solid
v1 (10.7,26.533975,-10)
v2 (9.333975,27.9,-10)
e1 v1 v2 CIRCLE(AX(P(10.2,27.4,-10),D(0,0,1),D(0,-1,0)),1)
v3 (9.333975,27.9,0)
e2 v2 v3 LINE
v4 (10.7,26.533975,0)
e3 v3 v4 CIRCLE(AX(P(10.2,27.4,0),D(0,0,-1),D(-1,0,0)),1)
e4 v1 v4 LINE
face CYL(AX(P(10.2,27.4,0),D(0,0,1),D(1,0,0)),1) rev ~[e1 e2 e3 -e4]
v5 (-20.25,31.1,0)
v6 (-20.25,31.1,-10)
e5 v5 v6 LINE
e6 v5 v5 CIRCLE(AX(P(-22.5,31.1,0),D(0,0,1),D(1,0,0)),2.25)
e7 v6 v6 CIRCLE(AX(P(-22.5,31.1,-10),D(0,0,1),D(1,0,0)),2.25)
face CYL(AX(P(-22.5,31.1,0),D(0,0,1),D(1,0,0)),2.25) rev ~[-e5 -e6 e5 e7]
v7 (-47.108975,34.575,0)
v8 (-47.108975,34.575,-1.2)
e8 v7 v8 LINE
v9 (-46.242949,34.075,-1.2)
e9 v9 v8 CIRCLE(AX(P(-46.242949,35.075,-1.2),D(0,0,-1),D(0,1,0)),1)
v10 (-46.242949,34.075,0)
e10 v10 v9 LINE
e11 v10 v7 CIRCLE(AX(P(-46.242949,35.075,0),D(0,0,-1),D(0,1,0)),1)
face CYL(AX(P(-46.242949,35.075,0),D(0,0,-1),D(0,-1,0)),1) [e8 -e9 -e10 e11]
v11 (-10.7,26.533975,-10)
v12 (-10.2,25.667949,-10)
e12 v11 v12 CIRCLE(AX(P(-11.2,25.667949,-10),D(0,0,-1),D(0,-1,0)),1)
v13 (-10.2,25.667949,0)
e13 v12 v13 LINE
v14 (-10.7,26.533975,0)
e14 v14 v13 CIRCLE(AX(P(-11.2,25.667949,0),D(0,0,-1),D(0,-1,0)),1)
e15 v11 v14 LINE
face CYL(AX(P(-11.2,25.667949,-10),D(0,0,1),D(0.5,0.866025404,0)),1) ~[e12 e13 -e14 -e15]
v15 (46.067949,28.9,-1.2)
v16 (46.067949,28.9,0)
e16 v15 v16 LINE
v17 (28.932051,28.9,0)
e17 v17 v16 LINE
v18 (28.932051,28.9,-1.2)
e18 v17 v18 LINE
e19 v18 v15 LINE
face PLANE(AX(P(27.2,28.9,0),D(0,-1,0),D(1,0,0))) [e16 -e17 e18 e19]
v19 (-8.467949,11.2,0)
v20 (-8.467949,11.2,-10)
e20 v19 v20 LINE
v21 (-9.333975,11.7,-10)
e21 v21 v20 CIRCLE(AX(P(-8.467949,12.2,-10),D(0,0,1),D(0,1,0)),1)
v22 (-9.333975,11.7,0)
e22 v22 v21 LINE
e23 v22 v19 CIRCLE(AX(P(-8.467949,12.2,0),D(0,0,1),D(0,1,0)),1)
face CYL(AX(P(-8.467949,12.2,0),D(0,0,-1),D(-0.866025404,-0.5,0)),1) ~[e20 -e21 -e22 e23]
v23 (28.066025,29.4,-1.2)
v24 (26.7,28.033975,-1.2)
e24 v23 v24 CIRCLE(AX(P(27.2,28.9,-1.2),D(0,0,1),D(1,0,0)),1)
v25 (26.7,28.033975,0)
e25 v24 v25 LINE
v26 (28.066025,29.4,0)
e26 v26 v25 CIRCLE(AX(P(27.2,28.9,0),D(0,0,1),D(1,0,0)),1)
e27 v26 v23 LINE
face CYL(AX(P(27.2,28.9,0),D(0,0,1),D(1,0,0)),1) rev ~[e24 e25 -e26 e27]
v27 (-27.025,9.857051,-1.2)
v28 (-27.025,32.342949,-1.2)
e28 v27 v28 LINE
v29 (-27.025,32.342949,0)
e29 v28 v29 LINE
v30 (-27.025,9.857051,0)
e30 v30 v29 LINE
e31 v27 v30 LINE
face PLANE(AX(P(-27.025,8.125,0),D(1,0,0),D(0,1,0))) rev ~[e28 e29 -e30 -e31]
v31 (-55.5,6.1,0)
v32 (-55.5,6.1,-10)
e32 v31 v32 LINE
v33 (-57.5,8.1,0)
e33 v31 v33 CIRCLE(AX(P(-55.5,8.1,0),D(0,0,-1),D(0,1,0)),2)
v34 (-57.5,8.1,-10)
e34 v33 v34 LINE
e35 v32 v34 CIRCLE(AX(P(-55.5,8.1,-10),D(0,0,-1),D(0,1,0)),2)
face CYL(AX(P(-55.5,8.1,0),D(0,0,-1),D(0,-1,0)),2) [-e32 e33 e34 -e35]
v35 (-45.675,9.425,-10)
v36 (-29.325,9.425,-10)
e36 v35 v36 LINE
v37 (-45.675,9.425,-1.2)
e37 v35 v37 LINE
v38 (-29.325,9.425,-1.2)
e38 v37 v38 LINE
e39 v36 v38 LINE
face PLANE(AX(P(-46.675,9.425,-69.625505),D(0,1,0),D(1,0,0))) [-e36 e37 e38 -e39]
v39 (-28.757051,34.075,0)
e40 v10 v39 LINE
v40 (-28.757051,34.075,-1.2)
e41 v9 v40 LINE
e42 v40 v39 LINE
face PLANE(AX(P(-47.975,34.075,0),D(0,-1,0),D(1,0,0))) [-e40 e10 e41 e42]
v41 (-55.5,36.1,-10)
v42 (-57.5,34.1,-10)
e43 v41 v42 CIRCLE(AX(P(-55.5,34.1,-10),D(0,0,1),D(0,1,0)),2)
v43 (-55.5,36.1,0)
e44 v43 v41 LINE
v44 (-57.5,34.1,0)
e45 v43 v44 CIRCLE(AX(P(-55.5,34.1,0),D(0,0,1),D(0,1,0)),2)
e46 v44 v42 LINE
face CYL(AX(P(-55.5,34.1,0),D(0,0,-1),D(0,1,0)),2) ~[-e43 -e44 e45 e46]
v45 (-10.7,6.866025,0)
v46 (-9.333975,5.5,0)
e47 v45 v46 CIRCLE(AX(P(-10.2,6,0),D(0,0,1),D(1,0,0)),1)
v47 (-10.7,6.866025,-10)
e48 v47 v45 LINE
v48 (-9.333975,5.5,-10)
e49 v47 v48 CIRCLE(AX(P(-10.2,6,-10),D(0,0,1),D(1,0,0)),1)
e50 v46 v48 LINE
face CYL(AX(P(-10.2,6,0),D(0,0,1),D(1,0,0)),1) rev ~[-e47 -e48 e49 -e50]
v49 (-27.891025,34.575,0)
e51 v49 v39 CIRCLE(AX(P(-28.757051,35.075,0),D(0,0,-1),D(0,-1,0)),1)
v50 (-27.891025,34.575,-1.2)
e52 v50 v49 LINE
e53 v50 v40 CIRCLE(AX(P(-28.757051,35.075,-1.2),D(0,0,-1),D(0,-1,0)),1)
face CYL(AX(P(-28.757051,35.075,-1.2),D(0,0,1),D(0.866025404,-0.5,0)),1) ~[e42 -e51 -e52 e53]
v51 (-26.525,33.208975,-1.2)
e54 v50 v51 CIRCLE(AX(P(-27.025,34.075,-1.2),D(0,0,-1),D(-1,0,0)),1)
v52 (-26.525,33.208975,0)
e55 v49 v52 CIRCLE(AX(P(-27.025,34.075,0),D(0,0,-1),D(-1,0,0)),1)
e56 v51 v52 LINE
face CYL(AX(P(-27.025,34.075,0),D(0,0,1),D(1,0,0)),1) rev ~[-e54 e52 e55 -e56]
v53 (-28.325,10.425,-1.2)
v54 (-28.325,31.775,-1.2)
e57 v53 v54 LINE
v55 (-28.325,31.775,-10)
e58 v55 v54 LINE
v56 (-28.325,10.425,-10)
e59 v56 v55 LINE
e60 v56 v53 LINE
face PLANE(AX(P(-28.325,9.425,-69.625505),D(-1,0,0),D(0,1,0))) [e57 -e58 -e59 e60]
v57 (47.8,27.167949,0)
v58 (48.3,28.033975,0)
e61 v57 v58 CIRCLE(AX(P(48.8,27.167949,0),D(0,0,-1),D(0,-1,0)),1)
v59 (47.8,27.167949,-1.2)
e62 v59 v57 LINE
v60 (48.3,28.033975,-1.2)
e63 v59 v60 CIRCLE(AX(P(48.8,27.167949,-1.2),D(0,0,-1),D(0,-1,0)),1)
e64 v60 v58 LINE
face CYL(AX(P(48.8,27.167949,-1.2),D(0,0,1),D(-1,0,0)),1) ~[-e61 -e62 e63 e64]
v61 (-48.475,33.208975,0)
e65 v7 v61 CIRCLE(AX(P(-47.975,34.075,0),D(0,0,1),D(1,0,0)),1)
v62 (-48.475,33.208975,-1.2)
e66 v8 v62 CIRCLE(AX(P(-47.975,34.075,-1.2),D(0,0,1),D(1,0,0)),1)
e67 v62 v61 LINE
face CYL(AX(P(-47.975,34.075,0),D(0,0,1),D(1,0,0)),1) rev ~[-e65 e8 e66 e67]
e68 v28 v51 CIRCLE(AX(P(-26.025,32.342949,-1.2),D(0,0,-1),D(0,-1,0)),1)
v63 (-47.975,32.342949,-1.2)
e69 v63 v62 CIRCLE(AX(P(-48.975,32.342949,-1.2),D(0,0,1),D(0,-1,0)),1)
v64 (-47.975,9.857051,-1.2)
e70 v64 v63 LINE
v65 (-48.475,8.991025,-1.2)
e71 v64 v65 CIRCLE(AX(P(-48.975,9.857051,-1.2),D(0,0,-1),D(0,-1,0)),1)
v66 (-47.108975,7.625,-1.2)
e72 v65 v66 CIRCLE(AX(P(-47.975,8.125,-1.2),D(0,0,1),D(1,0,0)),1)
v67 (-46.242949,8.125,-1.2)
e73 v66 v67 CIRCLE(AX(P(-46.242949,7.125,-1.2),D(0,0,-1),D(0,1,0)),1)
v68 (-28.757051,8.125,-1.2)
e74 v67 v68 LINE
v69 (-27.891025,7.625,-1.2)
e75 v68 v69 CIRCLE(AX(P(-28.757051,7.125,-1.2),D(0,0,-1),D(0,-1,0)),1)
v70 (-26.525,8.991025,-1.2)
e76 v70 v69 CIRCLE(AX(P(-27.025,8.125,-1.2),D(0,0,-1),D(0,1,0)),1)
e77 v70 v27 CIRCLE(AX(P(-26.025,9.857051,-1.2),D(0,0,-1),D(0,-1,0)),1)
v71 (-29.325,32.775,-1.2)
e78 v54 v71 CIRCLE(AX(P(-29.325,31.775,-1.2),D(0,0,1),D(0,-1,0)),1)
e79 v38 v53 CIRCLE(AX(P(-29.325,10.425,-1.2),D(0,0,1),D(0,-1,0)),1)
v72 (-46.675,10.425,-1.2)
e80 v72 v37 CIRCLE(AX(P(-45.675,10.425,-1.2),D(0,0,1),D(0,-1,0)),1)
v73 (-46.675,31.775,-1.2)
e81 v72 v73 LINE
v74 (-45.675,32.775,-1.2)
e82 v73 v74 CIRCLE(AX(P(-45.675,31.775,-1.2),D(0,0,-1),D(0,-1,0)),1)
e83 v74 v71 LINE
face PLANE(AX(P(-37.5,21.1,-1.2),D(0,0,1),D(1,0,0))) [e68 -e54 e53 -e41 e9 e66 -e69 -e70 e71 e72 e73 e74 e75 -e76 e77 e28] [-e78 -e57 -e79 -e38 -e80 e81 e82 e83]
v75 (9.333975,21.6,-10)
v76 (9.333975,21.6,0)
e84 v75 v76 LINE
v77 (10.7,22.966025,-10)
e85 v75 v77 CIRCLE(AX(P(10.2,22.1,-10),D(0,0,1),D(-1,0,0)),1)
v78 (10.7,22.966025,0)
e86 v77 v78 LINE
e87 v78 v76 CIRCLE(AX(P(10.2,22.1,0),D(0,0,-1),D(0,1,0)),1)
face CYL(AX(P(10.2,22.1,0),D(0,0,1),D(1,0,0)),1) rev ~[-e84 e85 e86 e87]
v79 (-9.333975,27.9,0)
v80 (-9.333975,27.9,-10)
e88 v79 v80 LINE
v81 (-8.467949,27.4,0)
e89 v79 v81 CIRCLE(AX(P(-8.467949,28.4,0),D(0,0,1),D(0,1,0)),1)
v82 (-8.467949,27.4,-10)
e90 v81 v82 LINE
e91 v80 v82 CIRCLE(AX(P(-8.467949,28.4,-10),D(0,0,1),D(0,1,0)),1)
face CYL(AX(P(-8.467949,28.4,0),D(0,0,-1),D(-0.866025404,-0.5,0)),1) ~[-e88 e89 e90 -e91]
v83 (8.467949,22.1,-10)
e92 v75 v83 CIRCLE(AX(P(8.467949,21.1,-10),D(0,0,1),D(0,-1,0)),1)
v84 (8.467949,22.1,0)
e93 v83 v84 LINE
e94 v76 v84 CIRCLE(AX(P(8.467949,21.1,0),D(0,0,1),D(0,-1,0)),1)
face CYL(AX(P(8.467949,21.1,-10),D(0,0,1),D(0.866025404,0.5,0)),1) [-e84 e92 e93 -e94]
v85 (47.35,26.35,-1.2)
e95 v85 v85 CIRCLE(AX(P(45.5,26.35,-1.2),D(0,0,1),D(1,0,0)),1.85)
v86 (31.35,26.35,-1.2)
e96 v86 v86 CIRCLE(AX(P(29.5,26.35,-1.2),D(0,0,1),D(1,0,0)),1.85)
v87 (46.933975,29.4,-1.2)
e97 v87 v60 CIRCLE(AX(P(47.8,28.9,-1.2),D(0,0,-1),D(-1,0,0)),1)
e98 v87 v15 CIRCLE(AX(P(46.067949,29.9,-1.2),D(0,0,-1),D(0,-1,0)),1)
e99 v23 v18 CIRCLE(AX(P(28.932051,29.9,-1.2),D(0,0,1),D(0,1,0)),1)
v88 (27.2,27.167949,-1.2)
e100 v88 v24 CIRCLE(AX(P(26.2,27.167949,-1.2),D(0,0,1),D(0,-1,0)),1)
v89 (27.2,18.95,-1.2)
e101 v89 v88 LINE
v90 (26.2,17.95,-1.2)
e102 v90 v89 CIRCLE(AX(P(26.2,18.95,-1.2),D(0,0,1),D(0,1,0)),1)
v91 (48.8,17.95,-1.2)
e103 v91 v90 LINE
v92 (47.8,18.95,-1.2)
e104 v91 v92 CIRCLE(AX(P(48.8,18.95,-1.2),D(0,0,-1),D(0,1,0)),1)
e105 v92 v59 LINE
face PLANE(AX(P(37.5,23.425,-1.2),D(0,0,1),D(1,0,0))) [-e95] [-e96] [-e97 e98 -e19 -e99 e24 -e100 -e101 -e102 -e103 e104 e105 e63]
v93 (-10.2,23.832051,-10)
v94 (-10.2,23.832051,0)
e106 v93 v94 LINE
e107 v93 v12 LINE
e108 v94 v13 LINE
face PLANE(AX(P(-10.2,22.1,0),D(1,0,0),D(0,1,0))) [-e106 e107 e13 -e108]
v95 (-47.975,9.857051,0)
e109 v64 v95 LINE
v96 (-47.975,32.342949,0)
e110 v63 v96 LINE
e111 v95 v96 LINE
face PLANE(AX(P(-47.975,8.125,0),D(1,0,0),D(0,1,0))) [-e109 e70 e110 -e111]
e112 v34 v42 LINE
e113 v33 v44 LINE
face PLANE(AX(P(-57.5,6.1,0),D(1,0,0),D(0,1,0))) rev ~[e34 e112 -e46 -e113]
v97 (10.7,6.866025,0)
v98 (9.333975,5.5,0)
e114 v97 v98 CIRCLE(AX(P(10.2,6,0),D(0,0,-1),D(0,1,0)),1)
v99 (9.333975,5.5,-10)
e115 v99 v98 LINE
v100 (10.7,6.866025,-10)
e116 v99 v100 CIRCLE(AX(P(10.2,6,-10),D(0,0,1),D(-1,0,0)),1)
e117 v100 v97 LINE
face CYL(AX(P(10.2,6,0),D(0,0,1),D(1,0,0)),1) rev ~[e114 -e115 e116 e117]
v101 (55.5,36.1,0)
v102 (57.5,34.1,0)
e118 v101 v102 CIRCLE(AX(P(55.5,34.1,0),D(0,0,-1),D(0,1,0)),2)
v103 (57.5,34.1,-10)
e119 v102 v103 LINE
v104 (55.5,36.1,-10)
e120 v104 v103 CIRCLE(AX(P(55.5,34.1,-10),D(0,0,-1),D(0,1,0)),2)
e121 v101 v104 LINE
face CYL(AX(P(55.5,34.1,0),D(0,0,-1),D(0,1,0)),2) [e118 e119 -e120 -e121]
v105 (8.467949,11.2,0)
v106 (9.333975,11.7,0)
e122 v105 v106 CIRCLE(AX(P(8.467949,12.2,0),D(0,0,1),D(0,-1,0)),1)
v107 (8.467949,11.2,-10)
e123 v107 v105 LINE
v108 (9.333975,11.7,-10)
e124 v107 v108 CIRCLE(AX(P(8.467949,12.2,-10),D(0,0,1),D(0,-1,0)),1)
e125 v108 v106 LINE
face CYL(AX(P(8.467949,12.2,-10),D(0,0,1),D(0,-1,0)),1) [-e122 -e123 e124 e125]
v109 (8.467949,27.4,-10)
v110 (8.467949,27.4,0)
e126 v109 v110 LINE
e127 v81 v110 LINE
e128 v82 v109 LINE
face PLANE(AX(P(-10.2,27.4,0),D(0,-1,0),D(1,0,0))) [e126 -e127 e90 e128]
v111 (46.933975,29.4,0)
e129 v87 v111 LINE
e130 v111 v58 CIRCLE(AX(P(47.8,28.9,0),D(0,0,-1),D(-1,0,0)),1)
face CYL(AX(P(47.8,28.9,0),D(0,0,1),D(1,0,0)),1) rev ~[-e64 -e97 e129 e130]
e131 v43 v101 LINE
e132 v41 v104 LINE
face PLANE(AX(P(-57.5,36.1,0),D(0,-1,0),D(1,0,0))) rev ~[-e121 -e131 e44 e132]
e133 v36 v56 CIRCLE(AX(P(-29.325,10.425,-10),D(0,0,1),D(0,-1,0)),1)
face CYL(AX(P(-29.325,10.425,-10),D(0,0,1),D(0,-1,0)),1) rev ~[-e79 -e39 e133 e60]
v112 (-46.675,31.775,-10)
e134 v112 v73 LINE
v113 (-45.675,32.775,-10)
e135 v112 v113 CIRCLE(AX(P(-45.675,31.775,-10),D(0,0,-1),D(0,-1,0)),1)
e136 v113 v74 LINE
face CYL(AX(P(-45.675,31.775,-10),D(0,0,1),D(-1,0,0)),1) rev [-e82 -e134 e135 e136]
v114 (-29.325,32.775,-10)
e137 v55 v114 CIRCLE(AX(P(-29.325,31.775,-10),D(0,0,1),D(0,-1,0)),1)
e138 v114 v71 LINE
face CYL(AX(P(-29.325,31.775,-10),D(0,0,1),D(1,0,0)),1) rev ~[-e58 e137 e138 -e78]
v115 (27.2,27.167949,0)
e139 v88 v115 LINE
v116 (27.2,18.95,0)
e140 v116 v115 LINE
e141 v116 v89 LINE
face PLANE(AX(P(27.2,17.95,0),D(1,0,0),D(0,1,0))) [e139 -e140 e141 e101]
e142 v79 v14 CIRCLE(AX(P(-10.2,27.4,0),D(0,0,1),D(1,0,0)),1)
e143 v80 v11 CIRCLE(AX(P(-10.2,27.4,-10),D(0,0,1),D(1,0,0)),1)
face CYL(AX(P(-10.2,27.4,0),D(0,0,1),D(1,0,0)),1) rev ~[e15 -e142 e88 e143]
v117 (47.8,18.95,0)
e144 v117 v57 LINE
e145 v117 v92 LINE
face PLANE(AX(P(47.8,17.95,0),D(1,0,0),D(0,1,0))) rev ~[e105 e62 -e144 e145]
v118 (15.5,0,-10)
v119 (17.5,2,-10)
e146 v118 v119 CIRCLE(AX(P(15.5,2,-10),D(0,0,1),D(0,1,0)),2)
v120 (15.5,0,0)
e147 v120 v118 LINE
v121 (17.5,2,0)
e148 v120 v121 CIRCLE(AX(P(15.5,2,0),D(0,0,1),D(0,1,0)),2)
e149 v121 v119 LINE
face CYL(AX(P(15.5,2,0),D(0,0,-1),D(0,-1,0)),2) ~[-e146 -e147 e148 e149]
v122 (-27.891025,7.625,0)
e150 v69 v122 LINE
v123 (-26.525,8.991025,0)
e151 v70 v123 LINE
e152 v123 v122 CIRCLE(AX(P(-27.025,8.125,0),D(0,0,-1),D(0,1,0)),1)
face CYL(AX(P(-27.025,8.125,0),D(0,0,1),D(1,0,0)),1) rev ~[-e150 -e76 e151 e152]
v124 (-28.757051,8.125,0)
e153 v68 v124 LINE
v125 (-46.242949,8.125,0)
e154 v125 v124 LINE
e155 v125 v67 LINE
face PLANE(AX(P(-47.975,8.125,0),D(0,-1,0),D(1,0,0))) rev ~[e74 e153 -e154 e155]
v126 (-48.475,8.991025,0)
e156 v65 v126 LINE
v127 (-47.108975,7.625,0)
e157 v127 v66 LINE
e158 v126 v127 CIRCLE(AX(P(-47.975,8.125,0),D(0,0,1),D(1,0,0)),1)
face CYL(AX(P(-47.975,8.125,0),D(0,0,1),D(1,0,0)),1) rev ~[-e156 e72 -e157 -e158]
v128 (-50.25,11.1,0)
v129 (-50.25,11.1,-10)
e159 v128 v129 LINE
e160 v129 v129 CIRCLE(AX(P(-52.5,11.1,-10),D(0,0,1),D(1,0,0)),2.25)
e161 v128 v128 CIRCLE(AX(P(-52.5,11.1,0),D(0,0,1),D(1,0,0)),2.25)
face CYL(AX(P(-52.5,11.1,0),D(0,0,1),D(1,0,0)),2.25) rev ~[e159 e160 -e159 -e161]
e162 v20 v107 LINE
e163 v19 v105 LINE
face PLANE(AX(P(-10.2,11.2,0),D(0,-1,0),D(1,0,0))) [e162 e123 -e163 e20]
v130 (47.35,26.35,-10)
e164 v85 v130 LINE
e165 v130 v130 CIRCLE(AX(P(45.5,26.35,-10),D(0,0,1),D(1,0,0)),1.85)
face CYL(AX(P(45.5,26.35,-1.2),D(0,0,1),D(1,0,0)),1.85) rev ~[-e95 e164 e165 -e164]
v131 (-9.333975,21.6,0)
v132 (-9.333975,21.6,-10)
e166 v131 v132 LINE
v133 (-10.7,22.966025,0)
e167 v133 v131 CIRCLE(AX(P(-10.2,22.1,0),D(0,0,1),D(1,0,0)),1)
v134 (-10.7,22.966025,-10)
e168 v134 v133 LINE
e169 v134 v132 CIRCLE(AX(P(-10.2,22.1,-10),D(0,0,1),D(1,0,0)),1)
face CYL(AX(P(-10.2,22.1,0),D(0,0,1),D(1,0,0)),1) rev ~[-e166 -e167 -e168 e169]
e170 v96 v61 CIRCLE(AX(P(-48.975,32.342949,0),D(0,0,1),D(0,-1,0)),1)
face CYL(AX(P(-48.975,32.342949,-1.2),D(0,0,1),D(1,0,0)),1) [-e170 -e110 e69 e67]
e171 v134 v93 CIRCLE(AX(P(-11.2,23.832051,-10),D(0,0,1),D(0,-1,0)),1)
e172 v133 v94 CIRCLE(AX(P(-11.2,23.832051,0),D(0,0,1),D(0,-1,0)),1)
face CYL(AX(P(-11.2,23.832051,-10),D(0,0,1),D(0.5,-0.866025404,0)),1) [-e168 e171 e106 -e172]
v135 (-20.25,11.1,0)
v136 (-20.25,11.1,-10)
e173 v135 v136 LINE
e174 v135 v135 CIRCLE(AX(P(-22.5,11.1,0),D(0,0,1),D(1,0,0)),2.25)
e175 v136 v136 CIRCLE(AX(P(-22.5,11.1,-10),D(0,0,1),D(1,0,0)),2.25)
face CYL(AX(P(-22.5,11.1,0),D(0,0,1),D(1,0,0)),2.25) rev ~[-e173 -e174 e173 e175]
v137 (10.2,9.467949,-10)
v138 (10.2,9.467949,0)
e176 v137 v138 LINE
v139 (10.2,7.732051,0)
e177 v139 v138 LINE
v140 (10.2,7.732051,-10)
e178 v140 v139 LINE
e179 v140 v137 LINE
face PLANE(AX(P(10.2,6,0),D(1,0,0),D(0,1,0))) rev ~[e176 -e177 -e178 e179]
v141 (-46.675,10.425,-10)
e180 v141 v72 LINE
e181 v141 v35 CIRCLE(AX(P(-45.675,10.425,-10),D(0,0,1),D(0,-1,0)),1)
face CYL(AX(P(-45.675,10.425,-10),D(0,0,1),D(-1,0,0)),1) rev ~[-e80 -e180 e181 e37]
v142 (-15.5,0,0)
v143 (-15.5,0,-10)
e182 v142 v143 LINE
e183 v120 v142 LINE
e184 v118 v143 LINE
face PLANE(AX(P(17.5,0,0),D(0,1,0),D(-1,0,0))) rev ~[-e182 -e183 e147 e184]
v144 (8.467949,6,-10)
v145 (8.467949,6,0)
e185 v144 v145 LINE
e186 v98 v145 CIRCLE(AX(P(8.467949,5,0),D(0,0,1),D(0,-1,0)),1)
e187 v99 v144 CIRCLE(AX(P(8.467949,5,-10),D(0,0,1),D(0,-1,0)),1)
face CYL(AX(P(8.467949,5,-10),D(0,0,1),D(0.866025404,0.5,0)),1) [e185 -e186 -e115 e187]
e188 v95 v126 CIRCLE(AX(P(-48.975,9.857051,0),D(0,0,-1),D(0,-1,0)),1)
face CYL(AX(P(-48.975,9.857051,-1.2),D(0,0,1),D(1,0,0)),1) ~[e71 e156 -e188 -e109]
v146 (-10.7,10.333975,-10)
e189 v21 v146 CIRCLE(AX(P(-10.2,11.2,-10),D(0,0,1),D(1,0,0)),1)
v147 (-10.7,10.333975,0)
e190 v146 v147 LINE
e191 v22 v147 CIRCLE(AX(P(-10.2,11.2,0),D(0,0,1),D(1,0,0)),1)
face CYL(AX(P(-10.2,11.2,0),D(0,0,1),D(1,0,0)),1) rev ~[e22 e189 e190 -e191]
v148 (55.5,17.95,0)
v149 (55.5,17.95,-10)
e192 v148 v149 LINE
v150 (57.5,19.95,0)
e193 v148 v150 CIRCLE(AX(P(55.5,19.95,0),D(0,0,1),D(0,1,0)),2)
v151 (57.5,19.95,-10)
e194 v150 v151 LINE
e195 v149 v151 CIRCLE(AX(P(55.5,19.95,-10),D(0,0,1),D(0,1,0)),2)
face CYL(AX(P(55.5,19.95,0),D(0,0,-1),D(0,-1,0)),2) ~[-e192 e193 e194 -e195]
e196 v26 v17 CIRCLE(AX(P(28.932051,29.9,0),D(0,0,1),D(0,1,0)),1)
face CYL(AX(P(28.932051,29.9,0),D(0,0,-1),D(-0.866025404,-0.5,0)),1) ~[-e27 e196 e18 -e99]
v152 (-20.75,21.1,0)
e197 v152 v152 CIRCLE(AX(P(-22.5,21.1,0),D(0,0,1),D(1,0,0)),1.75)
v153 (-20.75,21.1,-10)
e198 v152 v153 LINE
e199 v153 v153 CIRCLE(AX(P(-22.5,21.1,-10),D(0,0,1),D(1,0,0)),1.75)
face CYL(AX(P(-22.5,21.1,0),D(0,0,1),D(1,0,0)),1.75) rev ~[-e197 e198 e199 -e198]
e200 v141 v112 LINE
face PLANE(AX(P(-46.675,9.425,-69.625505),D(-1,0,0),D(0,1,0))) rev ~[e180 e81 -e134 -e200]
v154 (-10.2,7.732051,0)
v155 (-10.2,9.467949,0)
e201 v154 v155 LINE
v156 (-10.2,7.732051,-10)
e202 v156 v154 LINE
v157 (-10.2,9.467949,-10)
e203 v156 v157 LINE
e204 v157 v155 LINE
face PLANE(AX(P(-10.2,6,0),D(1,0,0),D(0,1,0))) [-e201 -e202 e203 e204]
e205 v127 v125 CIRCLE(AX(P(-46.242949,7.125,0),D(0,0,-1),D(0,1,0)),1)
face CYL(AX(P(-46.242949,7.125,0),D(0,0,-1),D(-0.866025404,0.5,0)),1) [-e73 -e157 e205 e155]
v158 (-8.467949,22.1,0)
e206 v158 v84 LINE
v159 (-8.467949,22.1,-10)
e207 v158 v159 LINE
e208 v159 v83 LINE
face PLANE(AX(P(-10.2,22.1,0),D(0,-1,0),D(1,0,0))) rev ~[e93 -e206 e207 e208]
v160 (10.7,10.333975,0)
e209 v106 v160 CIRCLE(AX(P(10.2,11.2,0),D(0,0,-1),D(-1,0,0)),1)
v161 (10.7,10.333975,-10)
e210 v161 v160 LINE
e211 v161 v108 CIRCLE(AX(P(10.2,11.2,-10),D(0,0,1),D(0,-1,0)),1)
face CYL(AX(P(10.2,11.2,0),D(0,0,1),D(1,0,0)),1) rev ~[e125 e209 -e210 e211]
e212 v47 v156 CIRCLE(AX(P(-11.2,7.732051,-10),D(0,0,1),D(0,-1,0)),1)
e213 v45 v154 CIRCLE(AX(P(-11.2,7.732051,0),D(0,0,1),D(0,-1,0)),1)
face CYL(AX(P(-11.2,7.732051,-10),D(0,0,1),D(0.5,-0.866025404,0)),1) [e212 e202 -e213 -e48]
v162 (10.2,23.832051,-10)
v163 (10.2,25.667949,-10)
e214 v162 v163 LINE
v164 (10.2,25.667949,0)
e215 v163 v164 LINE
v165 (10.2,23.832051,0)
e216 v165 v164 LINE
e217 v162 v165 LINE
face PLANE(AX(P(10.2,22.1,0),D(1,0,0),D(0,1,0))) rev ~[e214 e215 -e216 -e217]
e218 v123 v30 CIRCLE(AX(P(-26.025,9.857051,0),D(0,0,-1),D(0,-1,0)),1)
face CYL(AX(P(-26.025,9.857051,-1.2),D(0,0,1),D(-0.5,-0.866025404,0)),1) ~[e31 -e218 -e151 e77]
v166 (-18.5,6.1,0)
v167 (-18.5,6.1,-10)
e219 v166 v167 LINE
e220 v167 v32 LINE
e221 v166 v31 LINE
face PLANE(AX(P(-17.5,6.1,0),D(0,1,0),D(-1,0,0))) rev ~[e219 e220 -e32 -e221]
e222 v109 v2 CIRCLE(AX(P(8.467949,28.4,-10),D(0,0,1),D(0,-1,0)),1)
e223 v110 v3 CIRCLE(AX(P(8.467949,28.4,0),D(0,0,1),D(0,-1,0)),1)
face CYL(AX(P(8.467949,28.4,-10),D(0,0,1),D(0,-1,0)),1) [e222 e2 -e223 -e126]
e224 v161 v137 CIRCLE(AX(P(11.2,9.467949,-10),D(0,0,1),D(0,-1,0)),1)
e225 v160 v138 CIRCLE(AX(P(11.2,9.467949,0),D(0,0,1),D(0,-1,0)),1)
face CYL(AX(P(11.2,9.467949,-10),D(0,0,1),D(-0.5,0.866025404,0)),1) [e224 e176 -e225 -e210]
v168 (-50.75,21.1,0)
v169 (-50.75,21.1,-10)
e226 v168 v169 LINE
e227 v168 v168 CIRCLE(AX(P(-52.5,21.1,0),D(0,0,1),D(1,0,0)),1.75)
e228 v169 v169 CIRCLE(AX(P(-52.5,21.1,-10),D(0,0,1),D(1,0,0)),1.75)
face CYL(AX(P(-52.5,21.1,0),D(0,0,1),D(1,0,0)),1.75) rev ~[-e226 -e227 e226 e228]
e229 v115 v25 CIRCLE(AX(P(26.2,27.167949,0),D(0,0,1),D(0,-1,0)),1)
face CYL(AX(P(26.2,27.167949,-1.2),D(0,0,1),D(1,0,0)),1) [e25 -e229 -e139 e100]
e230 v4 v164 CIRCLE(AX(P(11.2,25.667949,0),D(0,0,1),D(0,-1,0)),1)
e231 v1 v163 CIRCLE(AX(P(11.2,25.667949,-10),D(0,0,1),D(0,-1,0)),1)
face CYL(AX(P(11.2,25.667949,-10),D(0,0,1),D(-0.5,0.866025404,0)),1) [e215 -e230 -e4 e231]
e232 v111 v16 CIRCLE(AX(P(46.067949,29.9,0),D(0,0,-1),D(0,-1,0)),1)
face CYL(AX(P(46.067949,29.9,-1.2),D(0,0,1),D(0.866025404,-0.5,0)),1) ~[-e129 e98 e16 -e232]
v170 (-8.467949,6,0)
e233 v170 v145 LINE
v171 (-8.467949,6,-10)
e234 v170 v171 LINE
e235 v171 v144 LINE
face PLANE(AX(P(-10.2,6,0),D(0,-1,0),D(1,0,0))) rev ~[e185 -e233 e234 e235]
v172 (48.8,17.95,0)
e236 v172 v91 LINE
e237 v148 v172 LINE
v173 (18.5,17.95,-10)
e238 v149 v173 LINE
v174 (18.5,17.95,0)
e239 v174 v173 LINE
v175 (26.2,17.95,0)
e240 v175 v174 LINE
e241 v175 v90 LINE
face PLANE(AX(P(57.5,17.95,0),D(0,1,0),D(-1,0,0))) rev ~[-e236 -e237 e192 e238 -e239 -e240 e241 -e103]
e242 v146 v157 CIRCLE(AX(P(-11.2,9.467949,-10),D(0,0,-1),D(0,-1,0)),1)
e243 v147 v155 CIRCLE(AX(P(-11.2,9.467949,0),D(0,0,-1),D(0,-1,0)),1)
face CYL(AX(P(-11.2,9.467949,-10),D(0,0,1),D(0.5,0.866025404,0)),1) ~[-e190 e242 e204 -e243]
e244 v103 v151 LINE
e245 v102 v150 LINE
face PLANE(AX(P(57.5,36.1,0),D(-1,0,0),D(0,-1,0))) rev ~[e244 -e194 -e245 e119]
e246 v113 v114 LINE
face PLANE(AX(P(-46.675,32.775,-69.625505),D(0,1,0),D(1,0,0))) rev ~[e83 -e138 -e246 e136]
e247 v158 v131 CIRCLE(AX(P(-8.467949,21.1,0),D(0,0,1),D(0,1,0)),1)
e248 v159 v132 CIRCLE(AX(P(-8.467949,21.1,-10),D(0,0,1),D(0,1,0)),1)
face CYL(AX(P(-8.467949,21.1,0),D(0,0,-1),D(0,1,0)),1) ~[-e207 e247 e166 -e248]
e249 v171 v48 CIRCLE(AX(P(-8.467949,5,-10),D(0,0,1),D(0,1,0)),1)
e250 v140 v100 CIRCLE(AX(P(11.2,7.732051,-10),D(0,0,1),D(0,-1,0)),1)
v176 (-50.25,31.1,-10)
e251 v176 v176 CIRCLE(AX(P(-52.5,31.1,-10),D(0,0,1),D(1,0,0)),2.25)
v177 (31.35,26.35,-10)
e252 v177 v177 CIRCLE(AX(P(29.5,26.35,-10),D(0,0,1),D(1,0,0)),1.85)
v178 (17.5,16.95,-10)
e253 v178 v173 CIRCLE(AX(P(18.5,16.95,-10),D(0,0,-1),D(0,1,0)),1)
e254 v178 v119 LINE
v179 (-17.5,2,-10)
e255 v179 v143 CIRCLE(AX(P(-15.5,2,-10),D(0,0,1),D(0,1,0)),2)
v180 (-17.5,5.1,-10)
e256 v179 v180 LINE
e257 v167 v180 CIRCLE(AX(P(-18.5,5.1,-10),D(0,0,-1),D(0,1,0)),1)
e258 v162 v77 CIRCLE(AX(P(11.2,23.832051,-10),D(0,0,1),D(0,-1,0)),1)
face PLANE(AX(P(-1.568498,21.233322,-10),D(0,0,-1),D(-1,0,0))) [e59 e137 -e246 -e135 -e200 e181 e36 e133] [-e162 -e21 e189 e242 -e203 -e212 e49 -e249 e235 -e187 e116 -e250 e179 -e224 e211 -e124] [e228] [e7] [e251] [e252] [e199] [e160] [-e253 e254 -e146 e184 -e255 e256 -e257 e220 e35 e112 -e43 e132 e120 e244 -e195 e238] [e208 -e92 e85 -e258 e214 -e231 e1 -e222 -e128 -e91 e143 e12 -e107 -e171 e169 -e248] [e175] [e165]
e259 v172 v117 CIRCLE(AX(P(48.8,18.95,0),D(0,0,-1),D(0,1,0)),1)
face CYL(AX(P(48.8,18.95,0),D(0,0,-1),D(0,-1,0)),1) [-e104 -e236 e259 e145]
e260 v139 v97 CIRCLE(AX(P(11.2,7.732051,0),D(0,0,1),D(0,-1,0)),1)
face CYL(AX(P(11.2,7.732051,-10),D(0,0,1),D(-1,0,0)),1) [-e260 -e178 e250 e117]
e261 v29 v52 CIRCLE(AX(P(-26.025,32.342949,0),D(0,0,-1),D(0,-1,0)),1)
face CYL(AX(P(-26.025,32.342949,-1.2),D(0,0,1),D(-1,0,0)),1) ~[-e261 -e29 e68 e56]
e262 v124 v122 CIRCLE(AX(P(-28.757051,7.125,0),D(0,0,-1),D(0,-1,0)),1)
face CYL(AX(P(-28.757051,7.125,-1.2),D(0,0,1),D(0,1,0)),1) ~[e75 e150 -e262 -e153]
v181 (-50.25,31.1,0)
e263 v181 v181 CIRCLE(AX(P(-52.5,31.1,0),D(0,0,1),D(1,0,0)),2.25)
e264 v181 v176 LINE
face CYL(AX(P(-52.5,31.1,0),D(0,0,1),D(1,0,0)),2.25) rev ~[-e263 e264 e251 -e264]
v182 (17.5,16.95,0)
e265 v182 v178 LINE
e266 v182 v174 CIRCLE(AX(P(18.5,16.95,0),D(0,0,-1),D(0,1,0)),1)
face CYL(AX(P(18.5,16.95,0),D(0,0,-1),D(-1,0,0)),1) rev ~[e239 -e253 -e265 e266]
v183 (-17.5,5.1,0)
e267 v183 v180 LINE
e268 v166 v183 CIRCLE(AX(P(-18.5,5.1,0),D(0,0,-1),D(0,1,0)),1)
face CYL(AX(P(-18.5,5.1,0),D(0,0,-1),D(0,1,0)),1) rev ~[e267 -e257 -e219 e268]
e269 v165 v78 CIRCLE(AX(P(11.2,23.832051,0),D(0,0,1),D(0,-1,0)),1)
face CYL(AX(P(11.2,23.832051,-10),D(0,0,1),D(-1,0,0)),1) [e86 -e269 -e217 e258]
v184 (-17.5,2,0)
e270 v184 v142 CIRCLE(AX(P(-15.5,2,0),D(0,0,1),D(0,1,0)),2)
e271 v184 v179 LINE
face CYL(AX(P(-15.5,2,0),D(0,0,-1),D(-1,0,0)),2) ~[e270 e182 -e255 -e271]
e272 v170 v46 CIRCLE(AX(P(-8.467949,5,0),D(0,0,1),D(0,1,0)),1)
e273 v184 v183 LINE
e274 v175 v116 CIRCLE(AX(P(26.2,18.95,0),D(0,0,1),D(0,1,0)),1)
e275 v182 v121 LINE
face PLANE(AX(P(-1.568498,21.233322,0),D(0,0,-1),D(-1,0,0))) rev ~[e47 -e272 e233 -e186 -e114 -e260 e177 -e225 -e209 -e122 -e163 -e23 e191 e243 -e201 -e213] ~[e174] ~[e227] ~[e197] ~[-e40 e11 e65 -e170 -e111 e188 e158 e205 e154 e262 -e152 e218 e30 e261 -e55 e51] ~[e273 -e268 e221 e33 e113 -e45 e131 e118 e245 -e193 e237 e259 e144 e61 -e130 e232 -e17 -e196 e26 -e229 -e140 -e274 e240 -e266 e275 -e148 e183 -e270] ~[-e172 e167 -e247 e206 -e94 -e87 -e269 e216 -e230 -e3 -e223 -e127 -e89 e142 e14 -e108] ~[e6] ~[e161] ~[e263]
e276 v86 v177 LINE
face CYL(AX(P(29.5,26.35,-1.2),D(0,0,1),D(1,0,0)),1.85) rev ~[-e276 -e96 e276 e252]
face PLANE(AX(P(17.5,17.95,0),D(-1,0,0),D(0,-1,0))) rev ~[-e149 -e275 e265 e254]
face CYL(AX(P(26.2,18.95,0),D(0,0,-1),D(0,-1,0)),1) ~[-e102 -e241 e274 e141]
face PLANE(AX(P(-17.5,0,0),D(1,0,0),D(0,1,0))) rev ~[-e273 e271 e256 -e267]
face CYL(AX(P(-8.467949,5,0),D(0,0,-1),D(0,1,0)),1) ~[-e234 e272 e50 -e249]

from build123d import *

# Parameters (mm, degrees)
SKICA1_R                      = 2.25
SKICA1_R_2                    = 1.75
SKICA1_W                      = 20.4
SKICA1_H                      = 5.2
SKICA1_H_2                    = 5.3
P_IDAT_VYSUNUT_M1_DEPTH       = 10
SKICA2_W                      = 20.6
SKICA2_H                      = 10.95
ODEBRAT_VYSUNUT_M1_DEPTH      = 1.2
SKICA4_R                      = 1.85
ODEBRAT_VYSUNUT_M2_DEPTH      = 69.460937767
ODEBRAT_VYSUNUT_M3_DEPTH      = 69.625505463
ODEBRAT_VYSUNUT_M3_DEPTH_BACK = 69.625505463
SKICA5_W                      = 18.35
SKICA5_H                      = 23.35
SKICA5_3_W                    = 20.95
SKICA5_3_H                    = 25.95
ODEBRAT_VYSUNUT_M4_DEPTH      = 1.2
SKICA6_R                      = 1
ODEBRAT_VYSUNUT_M5_DEPTH      = 1.2
SKICA7_R                      = 1
ODEBRAT_VYSUNUT_M6_DEPTH      = 69.625505463
ZAOBLIT3_R                    = 2
ZAOBLIT4_R                    = 1
ZAOBLIT5_R                    = 1
ZAOBLIT6_R                    = 1


with BuildPart() as part:
    # Skica1 → Přidat vysunutím1 (new body)
    with BuildSketch(Plane.XY):
        Polygon((-57.5, 36.1), (57.5, 36.1), (57.5, 17.95), (17.5, 17.95), (17.5, 0), (-17.5, 0), (-17.5, 6.1), (-57.5, 6.1), align=None)
        with Locations((-52.5, 31.1)):
            Circle(SKICA1_R, mode=Mode.SUBTRACT)
        with Locations((-22.5, 31.1)):
            Circle(SKICA1_R, mode=Mode.SUBTRACT)
        with Locations((-52.5, 11.1)):
            Circle(SKICA1_R, mode=Mode.SUBTRACT)
        with Locations((-22.5, 11.1)):
            Circle(SKICA1_R, mode=Mode.SUBTRACT)
        with Locations((-52.5, 21.1)):
            Circle(SKICA1_R_2, mode=Mode.SUBTRACT)
        with Locations((-22.5, 21.1)):
            Circle(SKICA1_R_2, mode=Mode.SUBTRACT)
        with Locations((0, 8.6)):
            Rectangle(SKICA1_W, SKICA1_H, mode=Mode.SUBTRACT)
        with Locations((0, 24.75)):
            Rectangle(SKICA1_W, SKICA1_H_2, mode=Mode.SUBTRACT)
    extrude(amount=-P_IDAT_VYSUNUT_M1_DEPTH)

    # Skica2 → Odebrat vysunutím1 (cut)
    with BuildSketch(Plane.XY):
        with Locations((37.5, 23.425)):
            Rectangle(SKICA2_W, SKICA2_H)
    extrude(amount=-ODEBRAT_VYSUNUT_M1_DEPTH, mode=Mode.SUBTRACT)

    # Skica4 → Odebrat vysunutím2 (cut, through all)
    with BuildSketch(Plane.XY.offset(-1.2)):
        with Locations((45.5, 26.35)):
            Circle(SKICA4_R)
        with Locations((29.5, 26.35)):
            Circle(SKICA4_R)
    extrude(amount=-ODEBRAT_VYSUNUT_M2_DEPTH, mode=Mode.SUBTRACT)

    # Skica5 → Odebrat vysunutím3 (cut, two sides: drawn at the far end of the back side and taken through both)
    with BuildSketch(Plane.XY.offset(-ODEBRAT_VYSUNUT_M3_DEPTH_BACK)):
        with Locations((-37.5, 21.1)):
            Rectangle(SKICA5_W, SKICA5_H)
    extrude(amount=ODEBRAT_VYSUNUT_M3_DEPTH + ODEBRAT_VYSUNUT_M3_DEPTH_BACK, mode=Mode.SUBTRACT)

    # Skica5<3> → Odebrat vysunutím4 (cut)
    with BuildSketch(Plane.XY):
        with Locations((-37.5, 21.1)):
            Rectangle(SKICA5_3_W, SKICA5_3_H)
    extrude(amount=-ODEBRAT_VYSUNUT_M4_DEPTH, mode=Mode.SUBTRACT)

    # Skica6 → Odebrat vysunutím5 (cut)
    with BuildSketch(Plane.XY):
        with Locations((-47.975, 34.075)):
            Circle(SKICA6_R)
        with Locations((-27.025, 34.075)):
            Circle(SKICA6_R)
        with Locations((-47.975, 8.125)):
            Circle(SKICA6_R)
        with Locations((-27.025, 8.125)):
            Circle(SKICA6_R)
        with Locations((27.2, 28.9)):
            Circle(SKICA6_R)
        with Locations((47.8, 28.9)):
            Circle(SKICA6_R)
    extrude(amount=-ODEBRAT_VYSUNUT_M5_DEPTH, mode=Mode.SUBTRACT)

    # Skica7 → Odebrat vysunutím6 (cut, through all)
    with BuildSketch(Plane.XY):
        with Locations((-10.2, 27.4)):
            Circle(SKICA7_R)
        with Locations((-10.2, 22.1)):
            Circle(SKICA7_R)
        with Locations((10.2, 22.1)):
            Circle(SKICA7_R)
        with Locations((10.2, 27.4)):
            Circle(SKICA7_R)
        with Locations((-10.2, 11.2)):
            Circle(SKICA7_R)
        with Locations((-10.2, 6)):
            Circle(SKICA7_R)
        with Locations((10.2, 6)):
            Circle(SKICA7_R)
        with Locations((10.2, 11.2)):
            Circle(SKICA7_R)
    extrude(amount=-ODEBRAT_VYSUNUT_M6_DEPTH, mode=Mode.SUBTRACT)

    # Zaoblit3
    zaoblit3_edges = [part.edges().sort_by_distance(p)[0] for p in [
        (17.5, 0, -5),
        (-17.5, 0, -5),
        (-57.5, 6.1, -5),
        (-57.5, 36.1, -5),
        (57.5, 36.1, -5),
        (57.5, 17.95, -5),
    ]]
    fillet(zaoblit3_edges, radius=ZAOBLIT3_R)

    # Zaoblit4
    zaoblit4_edges = [part.edges().sort_by_distance(p)[0] for p in [
        (-17.5, 6.1, -5),
        (17.5, 17.95, -5),
    ]]
    fillet(zaoblit4_edges, radius=ZAOBLIT4_R)

    # Zaoblit5
    zaoblit5_edges = [part.edges().sort_by_distance(p)[0] for p in [
        (-46.675, 32.775, -5.6),
        (-28.325, 32.775, -5.6),
        (-28.325, 9.425, -5.6),
        (-46.675, 9.425, -5.6),
        (46.8, 28.9, -0.6),
        (47.8, 27.9, -0.6),
        (-28.025, 34.075, -0.6),
        (-27.025, 33.075, -0.6),
        (-47.975, 9.125, -0.6),
        (-46.975, 8.125, -0.6),
        (-27.025, 9.125, -0.6),
        (-28.025, 8.125, -0.6),
        (27.2, 27.9, -0.6),
        (28.2, 28.9, -0.6),
        (-47.975, 33.075, -0.6),
        (-46.975, 34.075, -0.6),
        (27.2, 17.95, -0.6),
        (47.8, 17.95, -0.6),
    ]]
    fillet(zaoblit5_edges, radius=ZAOBLIT5_R)

    # Zaoblit6
    zaoblit6_edges = [part.edges().sort_by_distance(p)[0] for p in [
        (10.2, 23.1, -5),
        (10.2, 26.4, -5),
        (10.2, 10.2, -5),
        (10.2, 7, -5),
        (-9.2, 6, -5),
        (-10.2, 10.2, -5),
        (-9.2, 22.1, -5),
        (-10.2, 26.4, -5),
        (-9.2, 11.2, -5),
        (9.2, 27.4, -5),
        (9.2, 22.1, -5),
        (-10.2, 23.1, -5),
        (-10.2, 7, -5),
        (9.2, 6, -5),
        (9.2, 11.2, -5),
        (-9.2, 27.4, -5),
    ]]
    fillet(zaoblit6_edges, radius=ZAOBLIT6_R)


solid = part.part
